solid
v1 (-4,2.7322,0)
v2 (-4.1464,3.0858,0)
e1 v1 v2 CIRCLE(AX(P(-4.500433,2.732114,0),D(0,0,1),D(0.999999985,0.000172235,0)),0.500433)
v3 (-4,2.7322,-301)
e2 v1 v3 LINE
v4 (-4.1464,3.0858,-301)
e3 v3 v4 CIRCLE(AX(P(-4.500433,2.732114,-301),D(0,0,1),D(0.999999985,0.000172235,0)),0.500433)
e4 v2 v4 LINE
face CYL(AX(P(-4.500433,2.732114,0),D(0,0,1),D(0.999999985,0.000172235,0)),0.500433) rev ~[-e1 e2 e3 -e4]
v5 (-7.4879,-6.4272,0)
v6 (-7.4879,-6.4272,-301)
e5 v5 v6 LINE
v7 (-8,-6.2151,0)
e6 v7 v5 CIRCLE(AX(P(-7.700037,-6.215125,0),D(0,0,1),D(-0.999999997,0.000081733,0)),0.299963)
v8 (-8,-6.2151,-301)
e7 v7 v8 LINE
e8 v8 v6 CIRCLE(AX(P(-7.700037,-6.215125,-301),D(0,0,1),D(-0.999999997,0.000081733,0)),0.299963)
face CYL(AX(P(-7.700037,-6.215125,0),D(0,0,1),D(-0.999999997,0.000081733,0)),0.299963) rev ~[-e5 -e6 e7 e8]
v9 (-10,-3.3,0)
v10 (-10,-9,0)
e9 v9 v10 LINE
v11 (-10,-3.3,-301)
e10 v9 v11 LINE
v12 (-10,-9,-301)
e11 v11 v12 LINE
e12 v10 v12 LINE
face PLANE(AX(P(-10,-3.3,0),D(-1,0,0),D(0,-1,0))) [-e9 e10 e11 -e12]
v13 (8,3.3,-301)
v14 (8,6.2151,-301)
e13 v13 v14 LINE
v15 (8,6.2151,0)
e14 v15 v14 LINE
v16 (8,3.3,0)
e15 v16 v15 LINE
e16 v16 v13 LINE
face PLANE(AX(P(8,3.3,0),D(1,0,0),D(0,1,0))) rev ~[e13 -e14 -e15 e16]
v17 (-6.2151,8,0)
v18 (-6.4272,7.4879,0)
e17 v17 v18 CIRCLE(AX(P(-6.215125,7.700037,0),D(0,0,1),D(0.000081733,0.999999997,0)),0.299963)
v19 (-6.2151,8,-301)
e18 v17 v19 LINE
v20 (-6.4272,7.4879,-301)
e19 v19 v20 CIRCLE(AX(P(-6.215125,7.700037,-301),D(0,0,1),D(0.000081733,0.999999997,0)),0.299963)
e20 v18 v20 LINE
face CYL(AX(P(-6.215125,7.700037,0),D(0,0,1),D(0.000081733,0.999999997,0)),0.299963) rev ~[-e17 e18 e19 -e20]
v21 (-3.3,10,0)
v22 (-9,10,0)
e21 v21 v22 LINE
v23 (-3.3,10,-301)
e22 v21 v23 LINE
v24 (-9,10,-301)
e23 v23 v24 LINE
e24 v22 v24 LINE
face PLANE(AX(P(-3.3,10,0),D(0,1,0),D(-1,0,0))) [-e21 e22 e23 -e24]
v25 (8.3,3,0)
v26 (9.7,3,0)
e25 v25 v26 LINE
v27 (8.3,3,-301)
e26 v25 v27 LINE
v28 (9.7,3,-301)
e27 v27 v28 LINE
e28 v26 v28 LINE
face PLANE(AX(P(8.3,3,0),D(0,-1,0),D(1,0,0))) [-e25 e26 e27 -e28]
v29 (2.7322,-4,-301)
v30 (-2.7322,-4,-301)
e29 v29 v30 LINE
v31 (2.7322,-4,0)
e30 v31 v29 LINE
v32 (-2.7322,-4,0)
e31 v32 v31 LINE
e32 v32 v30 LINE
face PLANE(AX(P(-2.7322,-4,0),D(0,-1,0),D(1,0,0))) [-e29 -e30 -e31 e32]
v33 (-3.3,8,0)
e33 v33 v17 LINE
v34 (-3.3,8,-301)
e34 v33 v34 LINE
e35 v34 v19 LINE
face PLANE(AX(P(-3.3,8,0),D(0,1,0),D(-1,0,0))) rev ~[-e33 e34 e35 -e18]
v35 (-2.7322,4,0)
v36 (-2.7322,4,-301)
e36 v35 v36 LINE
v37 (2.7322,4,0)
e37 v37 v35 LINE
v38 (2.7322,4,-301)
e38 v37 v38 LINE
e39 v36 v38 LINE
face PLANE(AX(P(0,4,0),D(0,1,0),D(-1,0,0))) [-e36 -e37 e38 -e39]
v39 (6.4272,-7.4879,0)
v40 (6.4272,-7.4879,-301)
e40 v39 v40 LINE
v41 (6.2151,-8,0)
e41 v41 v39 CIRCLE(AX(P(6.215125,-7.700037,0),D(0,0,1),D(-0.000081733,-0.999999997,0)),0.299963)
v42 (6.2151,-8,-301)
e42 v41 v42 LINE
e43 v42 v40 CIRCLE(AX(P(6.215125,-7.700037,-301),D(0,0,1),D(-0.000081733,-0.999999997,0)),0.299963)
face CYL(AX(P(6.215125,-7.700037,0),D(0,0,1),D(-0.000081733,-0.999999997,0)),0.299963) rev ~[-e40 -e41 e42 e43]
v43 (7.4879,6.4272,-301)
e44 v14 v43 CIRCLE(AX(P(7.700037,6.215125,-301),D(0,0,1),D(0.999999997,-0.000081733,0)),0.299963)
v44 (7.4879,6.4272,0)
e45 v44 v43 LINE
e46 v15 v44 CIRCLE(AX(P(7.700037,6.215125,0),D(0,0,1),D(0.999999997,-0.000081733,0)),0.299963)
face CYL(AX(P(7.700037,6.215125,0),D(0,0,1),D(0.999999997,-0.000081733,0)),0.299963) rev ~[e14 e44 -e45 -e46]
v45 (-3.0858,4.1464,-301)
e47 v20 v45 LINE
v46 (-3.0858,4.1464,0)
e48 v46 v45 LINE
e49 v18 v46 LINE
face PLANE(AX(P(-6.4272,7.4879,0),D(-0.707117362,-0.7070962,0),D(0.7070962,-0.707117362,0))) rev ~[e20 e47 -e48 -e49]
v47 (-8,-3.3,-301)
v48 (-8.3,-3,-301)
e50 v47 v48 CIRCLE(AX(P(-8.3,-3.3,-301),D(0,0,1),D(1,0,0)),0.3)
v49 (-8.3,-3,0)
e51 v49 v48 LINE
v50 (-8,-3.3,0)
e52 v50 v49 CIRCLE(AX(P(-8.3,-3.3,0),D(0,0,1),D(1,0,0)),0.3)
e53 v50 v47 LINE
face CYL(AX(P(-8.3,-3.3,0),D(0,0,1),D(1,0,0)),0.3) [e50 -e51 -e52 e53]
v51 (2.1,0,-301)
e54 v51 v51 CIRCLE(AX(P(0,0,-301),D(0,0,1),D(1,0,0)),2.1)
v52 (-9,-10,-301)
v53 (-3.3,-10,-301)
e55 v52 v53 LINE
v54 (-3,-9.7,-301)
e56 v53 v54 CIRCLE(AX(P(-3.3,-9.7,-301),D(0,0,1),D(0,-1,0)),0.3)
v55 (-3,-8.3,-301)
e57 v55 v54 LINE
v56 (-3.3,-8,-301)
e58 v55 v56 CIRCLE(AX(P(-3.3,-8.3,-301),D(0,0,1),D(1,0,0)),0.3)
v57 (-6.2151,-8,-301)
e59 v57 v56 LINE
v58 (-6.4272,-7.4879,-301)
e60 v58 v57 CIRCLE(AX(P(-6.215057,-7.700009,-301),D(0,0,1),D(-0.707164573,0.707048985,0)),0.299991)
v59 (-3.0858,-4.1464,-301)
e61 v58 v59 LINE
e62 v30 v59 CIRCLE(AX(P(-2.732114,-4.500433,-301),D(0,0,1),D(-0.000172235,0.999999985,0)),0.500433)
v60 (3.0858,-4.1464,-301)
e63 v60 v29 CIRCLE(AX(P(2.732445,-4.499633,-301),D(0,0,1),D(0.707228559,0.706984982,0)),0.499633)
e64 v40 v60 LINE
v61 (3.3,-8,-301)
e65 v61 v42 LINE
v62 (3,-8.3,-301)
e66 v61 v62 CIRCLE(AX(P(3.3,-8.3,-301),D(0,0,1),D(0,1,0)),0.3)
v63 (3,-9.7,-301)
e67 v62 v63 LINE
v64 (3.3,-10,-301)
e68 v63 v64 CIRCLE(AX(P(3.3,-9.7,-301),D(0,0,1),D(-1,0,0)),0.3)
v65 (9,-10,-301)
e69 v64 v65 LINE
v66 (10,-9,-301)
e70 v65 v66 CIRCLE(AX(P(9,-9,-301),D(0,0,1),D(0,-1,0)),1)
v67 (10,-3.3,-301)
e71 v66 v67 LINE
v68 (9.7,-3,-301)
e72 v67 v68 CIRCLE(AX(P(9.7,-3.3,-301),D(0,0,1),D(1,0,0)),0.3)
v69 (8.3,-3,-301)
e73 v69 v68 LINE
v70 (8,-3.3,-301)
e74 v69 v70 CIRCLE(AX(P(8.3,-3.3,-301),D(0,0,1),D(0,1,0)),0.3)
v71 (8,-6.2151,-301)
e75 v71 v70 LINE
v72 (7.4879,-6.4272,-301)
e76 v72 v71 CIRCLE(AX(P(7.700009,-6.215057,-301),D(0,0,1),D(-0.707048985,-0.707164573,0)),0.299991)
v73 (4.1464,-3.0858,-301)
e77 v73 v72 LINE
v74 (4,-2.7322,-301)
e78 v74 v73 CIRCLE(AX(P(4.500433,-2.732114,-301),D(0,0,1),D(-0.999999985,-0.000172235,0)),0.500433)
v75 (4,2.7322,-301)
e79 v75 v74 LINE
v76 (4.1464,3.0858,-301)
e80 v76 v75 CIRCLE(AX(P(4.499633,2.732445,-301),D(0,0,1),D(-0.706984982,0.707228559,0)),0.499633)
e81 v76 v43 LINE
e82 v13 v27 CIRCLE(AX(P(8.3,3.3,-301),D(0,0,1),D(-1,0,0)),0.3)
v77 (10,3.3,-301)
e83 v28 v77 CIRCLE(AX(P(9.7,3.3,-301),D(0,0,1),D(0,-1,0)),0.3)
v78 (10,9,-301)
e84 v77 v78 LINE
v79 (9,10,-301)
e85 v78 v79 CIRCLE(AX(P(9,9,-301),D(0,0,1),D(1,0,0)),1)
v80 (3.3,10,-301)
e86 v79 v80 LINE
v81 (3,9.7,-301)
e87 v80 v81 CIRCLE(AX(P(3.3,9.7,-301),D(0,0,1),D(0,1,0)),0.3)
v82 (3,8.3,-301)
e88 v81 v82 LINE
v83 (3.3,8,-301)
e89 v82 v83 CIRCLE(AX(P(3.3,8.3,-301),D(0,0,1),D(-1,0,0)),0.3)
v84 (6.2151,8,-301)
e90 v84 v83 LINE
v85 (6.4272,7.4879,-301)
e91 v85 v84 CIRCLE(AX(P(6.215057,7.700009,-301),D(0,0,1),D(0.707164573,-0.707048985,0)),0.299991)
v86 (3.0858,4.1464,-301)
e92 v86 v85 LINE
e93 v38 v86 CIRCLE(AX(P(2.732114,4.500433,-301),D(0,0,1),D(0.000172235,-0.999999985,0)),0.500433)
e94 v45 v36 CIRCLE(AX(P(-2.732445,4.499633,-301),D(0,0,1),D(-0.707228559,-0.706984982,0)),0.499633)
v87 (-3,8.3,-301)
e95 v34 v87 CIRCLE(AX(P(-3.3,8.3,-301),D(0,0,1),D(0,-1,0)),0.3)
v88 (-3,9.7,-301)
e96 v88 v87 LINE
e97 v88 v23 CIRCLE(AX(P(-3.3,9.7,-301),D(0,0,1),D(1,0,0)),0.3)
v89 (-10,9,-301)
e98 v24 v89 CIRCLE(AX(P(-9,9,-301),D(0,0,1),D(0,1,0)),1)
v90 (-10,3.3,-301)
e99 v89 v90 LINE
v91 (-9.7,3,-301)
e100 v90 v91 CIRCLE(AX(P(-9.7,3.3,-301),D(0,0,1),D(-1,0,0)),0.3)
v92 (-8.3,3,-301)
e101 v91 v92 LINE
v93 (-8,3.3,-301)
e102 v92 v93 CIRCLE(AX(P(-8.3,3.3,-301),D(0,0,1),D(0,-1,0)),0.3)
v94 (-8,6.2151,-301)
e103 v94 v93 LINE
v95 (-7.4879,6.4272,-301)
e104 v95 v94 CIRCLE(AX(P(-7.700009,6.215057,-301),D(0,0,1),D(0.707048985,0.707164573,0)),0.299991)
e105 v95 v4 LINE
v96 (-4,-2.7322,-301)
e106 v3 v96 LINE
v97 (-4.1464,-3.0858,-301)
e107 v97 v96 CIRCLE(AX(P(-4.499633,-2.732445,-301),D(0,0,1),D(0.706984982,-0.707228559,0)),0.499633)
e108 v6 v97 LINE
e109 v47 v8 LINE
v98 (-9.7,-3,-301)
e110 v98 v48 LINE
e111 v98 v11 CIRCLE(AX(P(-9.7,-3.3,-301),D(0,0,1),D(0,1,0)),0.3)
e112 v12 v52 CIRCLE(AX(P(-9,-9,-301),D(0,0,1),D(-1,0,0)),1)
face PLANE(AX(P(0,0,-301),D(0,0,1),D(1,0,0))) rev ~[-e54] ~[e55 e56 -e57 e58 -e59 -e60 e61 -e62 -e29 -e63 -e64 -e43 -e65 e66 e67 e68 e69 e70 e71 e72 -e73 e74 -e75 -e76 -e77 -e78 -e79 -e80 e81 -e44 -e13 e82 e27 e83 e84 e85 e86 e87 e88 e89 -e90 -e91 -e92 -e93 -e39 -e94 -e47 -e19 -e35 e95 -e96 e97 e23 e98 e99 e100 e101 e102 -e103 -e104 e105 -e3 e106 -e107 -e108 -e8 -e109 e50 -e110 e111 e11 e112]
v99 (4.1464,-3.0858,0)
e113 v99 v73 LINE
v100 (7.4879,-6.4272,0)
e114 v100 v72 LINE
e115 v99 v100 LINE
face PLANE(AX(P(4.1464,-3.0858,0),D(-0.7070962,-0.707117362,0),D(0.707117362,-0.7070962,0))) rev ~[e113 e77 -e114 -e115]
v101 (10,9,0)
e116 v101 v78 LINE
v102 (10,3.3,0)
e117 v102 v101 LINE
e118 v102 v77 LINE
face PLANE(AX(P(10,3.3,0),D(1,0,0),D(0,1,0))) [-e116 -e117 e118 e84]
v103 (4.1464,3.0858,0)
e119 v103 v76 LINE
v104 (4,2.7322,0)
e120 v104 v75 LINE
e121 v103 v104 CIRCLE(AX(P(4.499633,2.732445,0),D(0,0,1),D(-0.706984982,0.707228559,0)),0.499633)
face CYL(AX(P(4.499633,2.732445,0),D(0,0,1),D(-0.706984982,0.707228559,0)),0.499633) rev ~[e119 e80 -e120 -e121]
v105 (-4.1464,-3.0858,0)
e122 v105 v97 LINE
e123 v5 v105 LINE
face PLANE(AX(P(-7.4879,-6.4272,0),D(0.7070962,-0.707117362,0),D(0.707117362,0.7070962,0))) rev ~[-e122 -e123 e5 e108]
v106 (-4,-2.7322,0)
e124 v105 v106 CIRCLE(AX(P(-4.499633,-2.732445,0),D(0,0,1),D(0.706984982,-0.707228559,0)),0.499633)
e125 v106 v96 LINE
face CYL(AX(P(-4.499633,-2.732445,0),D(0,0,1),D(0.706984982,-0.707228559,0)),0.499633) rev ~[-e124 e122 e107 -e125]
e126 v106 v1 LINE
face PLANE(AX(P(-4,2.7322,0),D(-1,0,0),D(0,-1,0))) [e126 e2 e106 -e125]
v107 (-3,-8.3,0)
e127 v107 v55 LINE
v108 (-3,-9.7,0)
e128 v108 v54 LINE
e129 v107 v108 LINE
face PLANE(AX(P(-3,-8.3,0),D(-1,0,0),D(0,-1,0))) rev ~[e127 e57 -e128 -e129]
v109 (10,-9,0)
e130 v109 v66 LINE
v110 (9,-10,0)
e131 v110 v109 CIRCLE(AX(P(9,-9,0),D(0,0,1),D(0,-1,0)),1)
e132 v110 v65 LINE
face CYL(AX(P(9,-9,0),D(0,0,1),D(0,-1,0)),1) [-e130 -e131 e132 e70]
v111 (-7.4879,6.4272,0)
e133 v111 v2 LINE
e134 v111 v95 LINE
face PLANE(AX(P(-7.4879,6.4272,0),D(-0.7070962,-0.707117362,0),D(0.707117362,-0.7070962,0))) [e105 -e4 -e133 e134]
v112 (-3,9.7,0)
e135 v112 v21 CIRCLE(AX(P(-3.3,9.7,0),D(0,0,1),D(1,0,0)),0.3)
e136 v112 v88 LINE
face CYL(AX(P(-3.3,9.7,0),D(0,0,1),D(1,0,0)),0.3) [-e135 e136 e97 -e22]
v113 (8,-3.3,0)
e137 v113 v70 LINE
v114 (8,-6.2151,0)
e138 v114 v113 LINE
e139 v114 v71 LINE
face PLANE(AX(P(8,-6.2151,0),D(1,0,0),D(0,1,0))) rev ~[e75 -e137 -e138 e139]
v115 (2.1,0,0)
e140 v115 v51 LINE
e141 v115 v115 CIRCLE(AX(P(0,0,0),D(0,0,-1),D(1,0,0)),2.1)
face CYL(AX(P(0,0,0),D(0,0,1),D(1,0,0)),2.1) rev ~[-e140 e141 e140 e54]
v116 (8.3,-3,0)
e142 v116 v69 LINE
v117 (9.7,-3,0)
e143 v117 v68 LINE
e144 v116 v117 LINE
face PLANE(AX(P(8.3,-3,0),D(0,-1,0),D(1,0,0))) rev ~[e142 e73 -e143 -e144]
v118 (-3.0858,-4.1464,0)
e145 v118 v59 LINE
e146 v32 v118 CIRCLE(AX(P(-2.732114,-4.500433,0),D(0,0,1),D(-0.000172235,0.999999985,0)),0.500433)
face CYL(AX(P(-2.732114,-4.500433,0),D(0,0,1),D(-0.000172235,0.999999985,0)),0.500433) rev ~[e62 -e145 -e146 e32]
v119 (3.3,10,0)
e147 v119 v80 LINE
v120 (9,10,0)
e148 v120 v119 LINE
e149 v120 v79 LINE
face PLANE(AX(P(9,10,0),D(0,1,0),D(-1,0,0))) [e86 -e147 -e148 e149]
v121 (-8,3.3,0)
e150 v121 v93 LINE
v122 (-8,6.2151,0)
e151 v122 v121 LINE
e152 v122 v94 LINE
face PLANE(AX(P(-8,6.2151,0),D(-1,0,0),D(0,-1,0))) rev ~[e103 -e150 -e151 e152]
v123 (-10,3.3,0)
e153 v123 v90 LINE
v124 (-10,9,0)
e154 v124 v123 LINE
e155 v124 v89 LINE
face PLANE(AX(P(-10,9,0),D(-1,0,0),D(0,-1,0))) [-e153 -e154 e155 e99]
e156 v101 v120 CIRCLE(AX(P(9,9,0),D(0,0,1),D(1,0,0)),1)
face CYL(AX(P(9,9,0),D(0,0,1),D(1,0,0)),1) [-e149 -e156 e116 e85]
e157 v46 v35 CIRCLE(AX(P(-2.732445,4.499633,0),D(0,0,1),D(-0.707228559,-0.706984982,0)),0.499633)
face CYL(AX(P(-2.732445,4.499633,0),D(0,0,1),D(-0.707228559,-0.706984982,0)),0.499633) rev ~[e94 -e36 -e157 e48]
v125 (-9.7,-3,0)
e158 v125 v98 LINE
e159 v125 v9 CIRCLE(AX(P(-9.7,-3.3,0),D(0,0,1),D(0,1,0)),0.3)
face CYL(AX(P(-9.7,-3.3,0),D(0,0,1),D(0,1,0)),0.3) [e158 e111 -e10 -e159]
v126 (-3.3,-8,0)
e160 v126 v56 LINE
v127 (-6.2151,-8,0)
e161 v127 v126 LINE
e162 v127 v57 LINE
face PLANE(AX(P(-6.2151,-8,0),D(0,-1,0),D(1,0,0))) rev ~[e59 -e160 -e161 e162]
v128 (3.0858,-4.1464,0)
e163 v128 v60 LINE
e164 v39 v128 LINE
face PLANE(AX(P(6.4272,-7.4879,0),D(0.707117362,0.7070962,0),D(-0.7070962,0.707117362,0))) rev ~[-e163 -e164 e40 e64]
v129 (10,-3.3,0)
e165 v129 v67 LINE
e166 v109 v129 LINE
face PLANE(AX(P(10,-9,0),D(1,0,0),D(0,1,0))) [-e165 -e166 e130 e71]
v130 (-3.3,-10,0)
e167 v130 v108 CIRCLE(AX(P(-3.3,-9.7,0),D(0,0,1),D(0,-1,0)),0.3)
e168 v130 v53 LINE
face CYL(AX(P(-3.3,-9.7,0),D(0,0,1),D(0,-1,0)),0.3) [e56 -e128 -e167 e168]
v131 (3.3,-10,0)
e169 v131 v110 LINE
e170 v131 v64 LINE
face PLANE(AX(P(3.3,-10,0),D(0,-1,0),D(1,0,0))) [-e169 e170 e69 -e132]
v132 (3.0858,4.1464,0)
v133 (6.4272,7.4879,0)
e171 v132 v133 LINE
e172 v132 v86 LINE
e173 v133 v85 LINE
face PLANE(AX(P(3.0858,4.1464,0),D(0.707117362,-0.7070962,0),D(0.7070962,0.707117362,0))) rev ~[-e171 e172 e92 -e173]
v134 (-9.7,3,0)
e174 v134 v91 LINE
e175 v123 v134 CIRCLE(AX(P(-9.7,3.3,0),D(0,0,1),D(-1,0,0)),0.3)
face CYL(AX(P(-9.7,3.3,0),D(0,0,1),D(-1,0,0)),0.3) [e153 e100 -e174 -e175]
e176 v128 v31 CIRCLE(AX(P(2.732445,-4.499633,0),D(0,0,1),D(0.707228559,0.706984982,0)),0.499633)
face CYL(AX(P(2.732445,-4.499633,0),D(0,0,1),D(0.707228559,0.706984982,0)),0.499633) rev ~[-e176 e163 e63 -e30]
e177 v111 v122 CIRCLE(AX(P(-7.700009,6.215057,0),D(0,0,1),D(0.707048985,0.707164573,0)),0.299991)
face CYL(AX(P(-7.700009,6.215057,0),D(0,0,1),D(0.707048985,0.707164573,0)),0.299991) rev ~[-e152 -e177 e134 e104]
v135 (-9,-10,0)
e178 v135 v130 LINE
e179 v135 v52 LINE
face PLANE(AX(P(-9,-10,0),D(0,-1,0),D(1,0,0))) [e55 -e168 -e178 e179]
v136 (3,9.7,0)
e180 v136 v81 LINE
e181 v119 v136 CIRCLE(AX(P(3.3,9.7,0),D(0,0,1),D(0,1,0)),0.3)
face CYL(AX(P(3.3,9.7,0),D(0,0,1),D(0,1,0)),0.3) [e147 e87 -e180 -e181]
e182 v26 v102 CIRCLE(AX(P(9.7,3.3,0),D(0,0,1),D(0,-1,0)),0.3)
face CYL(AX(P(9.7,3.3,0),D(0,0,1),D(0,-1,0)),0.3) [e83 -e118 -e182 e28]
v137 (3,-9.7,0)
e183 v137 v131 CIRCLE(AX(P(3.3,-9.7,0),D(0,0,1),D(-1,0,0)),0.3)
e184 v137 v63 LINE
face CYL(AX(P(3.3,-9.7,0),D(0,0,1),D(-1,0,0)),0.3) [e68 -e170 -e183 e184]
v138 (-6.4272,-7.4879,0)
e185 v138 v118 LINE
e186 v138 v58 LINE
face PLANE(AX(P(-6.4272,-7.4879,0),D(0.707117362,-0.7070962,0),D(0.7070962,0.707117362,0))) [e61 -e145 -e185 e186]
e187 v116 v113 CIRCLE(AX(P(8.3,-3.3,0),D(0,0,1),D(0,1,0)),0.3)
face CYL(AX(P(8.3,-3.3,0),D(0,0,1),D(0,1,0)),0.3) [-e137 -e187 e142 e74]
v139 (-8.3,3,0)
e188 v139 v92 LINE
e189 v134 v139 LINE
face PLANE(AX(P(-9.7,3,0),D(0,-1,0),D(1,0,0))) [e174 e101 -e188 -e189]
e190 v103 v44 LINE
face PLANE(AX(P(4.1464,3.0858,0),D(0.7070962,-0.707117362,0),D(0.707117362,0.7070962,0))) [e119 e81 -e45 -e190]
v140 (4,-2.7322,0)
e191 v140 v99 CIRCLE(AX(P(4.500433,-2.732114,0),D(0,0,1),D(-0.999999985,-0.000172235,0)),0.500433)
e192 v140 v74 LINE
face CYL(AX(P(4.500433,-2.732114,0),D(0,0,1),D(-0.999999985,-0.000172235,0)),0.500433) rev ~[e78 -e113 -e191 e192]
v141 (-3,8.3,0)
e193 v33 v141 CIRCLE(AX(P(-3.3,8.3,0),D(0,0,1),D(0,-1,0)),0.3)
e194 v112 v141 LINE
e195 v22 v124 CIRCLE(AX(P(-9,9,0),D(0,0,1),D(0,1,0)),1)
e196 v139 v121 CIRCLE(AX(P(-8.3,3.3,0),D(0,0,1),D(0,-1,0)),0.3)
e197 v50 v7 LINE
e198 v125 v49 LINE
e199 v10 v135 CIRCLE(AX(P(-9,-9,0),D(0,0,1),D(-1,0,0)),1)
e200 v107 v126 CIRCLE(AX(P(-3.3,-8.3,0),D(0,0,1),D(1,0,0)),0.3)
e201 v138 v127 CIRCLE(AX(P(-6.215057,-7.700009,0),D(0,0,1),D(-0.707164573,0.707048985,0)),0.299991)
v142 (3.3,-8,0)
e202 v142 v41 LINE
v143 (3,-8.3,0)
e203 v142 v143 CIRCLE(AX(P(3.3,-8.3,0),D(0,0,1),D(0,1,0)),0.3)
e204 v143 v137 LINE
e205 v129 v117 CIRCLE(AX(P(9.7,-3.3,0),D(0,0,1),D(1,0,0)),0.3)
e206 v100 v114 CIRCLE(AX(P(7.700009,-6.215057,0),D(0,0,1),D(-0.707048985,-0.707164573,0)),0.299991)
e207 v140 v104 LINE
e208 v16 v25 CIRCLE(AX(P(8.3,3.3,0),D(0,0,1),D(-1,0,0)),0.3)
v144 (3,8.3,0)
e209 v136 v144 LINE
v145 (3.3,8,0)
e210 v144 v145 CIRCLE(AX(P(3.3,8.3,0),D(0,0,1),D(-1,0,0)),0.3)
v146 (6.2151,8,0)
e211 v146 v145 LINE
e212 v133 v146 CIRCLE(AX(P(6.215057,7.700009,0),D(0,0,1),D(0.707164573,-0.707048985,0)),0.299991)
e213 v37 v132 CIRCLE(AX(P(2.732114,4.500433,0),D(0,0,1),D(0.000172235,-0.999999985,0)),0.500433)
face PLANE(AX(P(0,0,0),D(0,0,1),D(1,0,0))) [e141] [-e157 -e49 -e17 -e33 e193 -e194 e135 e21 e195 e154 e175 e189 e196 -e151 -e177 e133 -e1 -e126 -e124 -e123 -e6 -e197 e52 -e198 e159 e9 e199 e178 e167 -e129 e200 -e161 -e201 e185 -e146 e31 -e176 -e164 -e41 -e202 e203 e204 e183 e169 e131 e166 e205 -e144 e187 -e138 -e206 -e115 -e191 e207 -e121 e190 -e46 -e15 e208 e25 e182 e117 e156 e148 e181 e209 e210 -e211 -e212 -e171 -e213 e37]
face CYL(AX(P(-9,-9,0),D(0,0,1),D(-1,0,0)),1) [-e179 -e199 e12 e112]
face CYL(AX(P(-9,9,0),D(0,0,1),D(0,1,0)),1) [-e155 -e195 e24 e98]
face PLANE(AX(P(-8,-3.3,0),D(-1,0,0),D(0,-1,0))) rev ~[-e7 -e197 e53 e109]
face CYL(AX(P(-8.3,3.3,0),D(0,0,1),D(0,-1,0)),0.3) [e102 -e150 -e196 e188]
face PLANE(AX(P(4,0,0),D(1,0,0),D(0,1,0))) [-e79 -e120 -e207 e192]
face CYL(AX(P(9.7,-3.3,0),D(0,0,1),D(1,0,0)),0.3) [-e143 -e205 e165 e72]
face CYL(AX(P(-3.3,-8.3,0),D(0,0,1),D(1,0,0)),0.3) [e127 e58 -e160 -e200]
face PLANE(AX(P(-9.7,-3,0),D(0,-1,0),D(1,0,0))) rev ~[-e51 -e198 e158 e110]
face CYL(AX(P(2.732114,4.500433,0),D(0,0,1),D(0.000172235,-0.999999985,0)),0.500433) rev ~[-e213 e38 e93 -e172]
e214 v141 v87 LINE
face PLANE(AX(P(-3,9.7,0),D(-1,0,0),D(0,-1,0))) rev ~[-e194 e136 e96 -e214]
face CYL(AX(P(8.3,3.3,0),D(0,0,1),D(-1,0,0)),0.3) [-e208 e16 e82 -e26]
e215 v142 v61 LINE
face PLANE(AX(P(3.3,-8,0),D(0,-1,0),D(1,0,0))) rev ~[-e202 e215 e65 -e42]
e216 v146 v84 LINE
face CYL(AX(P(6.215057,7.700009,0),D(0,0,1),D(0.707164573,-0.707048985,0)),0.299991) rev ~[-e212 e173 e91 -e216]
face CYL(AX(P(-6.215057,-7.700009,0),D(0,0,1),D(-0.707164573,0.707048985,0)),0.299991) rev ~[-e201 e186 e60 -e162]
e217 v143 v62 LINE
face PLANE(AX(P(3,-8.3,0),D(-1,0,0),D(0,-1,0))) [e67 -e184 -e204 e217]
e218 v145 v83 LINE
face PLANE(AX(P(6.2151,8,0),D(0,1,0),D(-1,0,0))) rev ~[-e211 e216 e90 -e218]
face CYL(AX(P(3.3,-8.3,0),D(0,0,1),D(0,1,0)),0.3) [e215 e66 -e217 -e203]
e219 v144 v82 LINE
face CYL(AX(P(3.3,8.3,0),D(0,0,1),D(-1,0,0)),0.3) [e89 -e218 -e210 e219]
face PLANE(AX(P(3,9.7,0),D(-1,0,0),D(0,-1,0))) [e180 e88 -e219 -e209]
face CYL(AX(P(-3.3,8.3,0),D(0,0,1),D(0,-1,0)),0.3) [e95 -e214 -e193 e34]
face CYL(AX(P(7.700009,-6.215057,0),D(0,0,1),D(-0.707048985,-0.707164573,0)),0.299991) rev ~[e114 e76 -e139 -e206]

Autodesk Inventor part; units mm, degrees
ref_plane "YZ Plane" through (0, 0, 0) normal (1, 0, 0) x (0, 1, 0)
ref_plane "XZ Plane" through (0, 0, 0) normal (0, 1, 0) x (-1, 0, 0)
ref_plane "XY Plane" through (0, 0, 0) normal (0, 0, 1) x (1, 0, 0)
sketch "Skizze1" plane through (0, 0, 0) normal (0, 0, 1) x (1, 0, 0)
  line L0 (-20.0059, 0) -> (20.0059, 0) projected
  line L1 (0, -20.0059) -> (0, 20.0059) projected
  line L2 (-14.2899, 0) -> (14.2899, 0)
  line L3 (0, -14.2899) -> (0, 14.2899)
  line L4 (-10, -10) -> (10, 10) construction
  line L5 (10, -10) -> (-10, 10) construction
  line L6 (-8, -8) -> (8, 8) construction
  line L7 (8, -8) -> (-8, 8) construction
  line L8 (-2.7322, -4) -> (2.7322, -4)
  line L9 (4, -2.7322) -> (4, 2.7322)
  line L10 (2.7322, 4) -> (-2.7322, 4)
  line L11 (-4, 2.7322) -> (-4, -2.7322)
  line L12 (-4, -4) -> (4, 4) construction
  line L13 (4, -4) -> (-4, 4) construction
  arc A0 (-9, 10) -> (-10, 9) centre (-9, 9) ccw
  arc A1 (10, 9) -> (9, 10) centre (9, 9) ccw
  arc A2 (9, -10) -> (10, -9) centre (9, -9) ccw
  arc A3 (-10, -9) -> (-9, -10) centre (-9, -9) ccw
  line L14 (-3, 9.7) -> (-3, 8.3)
  line L15 (3, 9.7) -> (3, 8.3)
  line L16 (6.2151, 8) -> (3.3, 8)
  line L17 (-3.3, 8) -> (-6.2151, 8)
  line L18 (9, 10) -> (3.3, 10)
  line L19 (-3.3, 10) -> (-9, 10)
  line L20 (-9.7, -3) -> (-8.3, -3)
  line L21 (-9.7, 3) -> (-8.3, 3)
  line L22 (-8, 6.2151) -> (-8, 3.3)
  line L23 (-8, -3.3) -> (-8, -6.2151)
  line L24 (-10, 9) -> (-10, 3.3)
  line L25 (-10, -3.3) -> (-10, -9)
  line L26 (-3, -8.3) -> (-3, -9.7)
  line L27 (3, -8.3) -> (3, -9.7)
  line L28 (-9, -10) -> (-3.3, -10)
  line L29 (3.3, -10) -> (9, -10)
  line L30 (-6.2151, -8) -> (-3.3, -8)
  line L31 (3.3, -8) -> (6.2151, -8)
  line L32 (8.3, 3) -> (9.7, 3)
  line L33 (8.3, -3) -> (9.7, -3)
  line L34 (8, -6.2151) -> (8, -3.3)
  line L35 (8, 3.3) -> (8, 6.2151)
  line L36 (10, -9) -> (10, -3.3)
  line L37 (10, 3.3) -> (10, 9)
  arc A4 (-10, 3.3) -> (-9.7, 3) centre (-9.7, 3.3) ccw
  arc A5 (-8.3, 3) -> (-8, 3.3) centre (-8.3, 3.3) ccw
  arc A6 (-9.7, -3) -> (-10, -3.3) centre (-9.7, -3.3) ccw
  arc A7 (-8, -3.3) -> (-8.3, -3) centre (-8.3, -3.3) ccw
  arc A8 (-3.3, -10) -> (-3, -9.7) centre (-3.3, -9.7) ccw
  arc A9 (-3, -8.3) -> (-3.3, -8) centre (-3.3, -8.3) ccw
  arc A10 (3, -9.7) -> (3.3, -10) centre (3.3, -9.7) ccw
  arc A11 (3.3, -8) -> (3, -8.3) centre (3.3, -8.3) ccw
  arc A12 (8.3, -3) -> (8, -3.3) centre (8.3, -3.3) ccw
  arc A13 (10, -3.3) -> (9.7, -3) centre (9.7, -3.3) ccw
  arc A14 (8, 3.3) -> (8.3, 3) centre (8.3, 3.3) ccw
  arc A15 (9.7, 3) -> (10, 3.3) centre (9.7, 3.3) ccw
  arc A16 (3, 8.3) -> (3.3, 8) centre (3.3, 8.3) ccw
  arc A17 (3.3, 10) -> (3, 9.7) centre (3.3, 9.7) ccw
  arc A18 (-3.3, 8) -> (-3, 8.3) centre (-3.3, 8.3) ccw
  arc A19 (-3, 9.7) -> (-3.3, 10) centre (-3.3, 9.7) ccw
  line L38 (-7.4879, 6.4272) -> (-4.1464, 3.0858)
  line L39 (-6.4272, 7.4879) -> (-3.0858, 4.1464)
  line L40 (-6.4272, -7.4879) -> (-3.0858, -4.1464)
  line L41 (-7.4879, -6.4272) -> (-4.1464, -3.0858)
  arc A20 (-7.4879, 6.4272) -> (-8, 6.2151) centre (-7.7, 6.2151) ccw
  arc A21 (-6.2151, 8) -> (-6.4272, 7.4879) centre (-6.2151, 7.7) ccw
  arc A22 (-8, -6.2151) -> (-7.4879, -6.4272) centre (-7.7, -6.2151) ccw
  arc A23 (-6.4272, -7.4879) -> (-6.2151, -8) centre (-6.2151, -7.7) ccw
  line L42 (6.4272, -7.4879) -> (3.0858, -4.1464)
  line L43 (4.1464, -3.0858) -> (7.4879, -6.4272)
  arc A24 (6.2151, -8) -> (6.4272, -7.4879) centre (6.2151, -7.7) ccw
  arc A25 (7.4879, -6.4272) -> (8, -6.2151) centre (7.7, -6.2151) ccw
  line L44 (4.1464, 3.0858) -> (7.4879, 6.4272)
  line L45 (3.0858, 4.1464) -> (6.4272, 7.4879)
  arc A26 (6.4272, 7.4879) -> (6.2151, 8) centre (6.2151, 7.7) ccw
  arc A27 (8, 6.2151) -> (7.4879, 6.4272) centre (7.7, 6.2151) ccw
  arc A28 (-3.0858, 4.1464) -> (-2.7322, 4) centre (-2.7322, 4.5) ccw
  arc A29 (-4, 2.7322) -> (-4.1464, 3.0858) centre (-4.5, 2.7322) ccw
  arc A30 (2.7322, 4) -> (3.0858, 4.1464) centre (2.7322, 4.5) ccw
  arc A31 (4.1464, 3.0858) -> (4, 2.7322) centre (4.5, 2.7322) ccw
  arc A32 (-4.1464, -3.0858) -> (-4, -2.7322) centre (-4.5, -2.7322) ccw
  arc A33 (-2.7322, -4) -> (-3.0858, -4.1464) centre (-2.7322, -4.5) ccw
  arc A34 (3.0858, -4.1464) -> (2.7322, -4) centre (2.7322, -4.5) ccw
  arc A35 (4, -2.7322) -> (4.1464, -3.0858) centre (4.5, -2.7322) ccw
  circle A36 centre (0, 0) radius 2.1
  point P0 (3, 8.9014)
  point P1 (-3, 9.1415)
  point P2 (-8.9764, -3)
  point P3 (-9.1265, 3)
  point P4 (3, -9.1251)
  point P5 (-3, -9.1251)
  point P6 (9.1101, -3)
  point P7 (9.1101, 3)
  dimension "d0" = 20
  dimension "d1" = 20
  dimension "d2" = 16
  dimension "d3" = 16
  dimension "d4" = 8
  dimension "d5" = 8
  dimension "d6" = 1
  dimension "d7" = 6
  dimension "d8" = 6
  dimension "d9" = 6
  dimension "d10" = 6
  dimension "d11" = 0.3
  dimension "d12" = 1.5
  dimension "d13" = 1.5
  dimension "d14" = 0.3
  dimension "d15" = 1.5
  dimension "d16" = 0.3
  dimension "d17" = 1.5
  dimension "d18" = 0.3
  dimension "d19" = 0.5
  dimension "d20" = 4.2
  dimension "d21" = 45
  dimension "d22" = 10
  dimension "d23" = 10
  dimension "d24" = 4
  dimension "d25" = 4
  dimension "d26" = 10
  dimension "d27" = 8
  dimension "d28" = 4
  dimension "d29" = 4
  dimension "d30" = 10
  dimension "d31" = 9.1101
  dimension "d32" = 8
  dimension "d33" = 4
  dimension "d34" = 8.9014
  dimension "d35" = 9.1251
  dimension "d36" = 9.1415
  dimension "d37" = 8.9764
  dimension "d38" = 9.1265
extrude "Extrusion1" add sketch "Skizze1" against normal blind 301 contours L11 A29 L38 A20 L22 A5 L21 A4 L24 A0 L19 A19 L14 A18 L17 A21 L39 A28 L10 L1 A36 L0 | L0 A36 L1 L8 A33 L40 A23 L30 A9 L26 A8 L28 A3 L25 A6 L20 A7 L23 A22 L41 A32 L11 | L1 L10 A30 L45 A26 L16 A16 L15 A17 L18 A1 L37 A15 L32 A14 L35 A27 L44 A31 L9 L0 A36 | A36 L0 L9 A35 L43 A25 L34 A12 L33 A13 L36 A2 L29 A10 L27 A11 L31 A24 L42 A34 L8 L1
properties part number "I Strebe Motorhalterung senkrecht" material "Aluminium 6061"
